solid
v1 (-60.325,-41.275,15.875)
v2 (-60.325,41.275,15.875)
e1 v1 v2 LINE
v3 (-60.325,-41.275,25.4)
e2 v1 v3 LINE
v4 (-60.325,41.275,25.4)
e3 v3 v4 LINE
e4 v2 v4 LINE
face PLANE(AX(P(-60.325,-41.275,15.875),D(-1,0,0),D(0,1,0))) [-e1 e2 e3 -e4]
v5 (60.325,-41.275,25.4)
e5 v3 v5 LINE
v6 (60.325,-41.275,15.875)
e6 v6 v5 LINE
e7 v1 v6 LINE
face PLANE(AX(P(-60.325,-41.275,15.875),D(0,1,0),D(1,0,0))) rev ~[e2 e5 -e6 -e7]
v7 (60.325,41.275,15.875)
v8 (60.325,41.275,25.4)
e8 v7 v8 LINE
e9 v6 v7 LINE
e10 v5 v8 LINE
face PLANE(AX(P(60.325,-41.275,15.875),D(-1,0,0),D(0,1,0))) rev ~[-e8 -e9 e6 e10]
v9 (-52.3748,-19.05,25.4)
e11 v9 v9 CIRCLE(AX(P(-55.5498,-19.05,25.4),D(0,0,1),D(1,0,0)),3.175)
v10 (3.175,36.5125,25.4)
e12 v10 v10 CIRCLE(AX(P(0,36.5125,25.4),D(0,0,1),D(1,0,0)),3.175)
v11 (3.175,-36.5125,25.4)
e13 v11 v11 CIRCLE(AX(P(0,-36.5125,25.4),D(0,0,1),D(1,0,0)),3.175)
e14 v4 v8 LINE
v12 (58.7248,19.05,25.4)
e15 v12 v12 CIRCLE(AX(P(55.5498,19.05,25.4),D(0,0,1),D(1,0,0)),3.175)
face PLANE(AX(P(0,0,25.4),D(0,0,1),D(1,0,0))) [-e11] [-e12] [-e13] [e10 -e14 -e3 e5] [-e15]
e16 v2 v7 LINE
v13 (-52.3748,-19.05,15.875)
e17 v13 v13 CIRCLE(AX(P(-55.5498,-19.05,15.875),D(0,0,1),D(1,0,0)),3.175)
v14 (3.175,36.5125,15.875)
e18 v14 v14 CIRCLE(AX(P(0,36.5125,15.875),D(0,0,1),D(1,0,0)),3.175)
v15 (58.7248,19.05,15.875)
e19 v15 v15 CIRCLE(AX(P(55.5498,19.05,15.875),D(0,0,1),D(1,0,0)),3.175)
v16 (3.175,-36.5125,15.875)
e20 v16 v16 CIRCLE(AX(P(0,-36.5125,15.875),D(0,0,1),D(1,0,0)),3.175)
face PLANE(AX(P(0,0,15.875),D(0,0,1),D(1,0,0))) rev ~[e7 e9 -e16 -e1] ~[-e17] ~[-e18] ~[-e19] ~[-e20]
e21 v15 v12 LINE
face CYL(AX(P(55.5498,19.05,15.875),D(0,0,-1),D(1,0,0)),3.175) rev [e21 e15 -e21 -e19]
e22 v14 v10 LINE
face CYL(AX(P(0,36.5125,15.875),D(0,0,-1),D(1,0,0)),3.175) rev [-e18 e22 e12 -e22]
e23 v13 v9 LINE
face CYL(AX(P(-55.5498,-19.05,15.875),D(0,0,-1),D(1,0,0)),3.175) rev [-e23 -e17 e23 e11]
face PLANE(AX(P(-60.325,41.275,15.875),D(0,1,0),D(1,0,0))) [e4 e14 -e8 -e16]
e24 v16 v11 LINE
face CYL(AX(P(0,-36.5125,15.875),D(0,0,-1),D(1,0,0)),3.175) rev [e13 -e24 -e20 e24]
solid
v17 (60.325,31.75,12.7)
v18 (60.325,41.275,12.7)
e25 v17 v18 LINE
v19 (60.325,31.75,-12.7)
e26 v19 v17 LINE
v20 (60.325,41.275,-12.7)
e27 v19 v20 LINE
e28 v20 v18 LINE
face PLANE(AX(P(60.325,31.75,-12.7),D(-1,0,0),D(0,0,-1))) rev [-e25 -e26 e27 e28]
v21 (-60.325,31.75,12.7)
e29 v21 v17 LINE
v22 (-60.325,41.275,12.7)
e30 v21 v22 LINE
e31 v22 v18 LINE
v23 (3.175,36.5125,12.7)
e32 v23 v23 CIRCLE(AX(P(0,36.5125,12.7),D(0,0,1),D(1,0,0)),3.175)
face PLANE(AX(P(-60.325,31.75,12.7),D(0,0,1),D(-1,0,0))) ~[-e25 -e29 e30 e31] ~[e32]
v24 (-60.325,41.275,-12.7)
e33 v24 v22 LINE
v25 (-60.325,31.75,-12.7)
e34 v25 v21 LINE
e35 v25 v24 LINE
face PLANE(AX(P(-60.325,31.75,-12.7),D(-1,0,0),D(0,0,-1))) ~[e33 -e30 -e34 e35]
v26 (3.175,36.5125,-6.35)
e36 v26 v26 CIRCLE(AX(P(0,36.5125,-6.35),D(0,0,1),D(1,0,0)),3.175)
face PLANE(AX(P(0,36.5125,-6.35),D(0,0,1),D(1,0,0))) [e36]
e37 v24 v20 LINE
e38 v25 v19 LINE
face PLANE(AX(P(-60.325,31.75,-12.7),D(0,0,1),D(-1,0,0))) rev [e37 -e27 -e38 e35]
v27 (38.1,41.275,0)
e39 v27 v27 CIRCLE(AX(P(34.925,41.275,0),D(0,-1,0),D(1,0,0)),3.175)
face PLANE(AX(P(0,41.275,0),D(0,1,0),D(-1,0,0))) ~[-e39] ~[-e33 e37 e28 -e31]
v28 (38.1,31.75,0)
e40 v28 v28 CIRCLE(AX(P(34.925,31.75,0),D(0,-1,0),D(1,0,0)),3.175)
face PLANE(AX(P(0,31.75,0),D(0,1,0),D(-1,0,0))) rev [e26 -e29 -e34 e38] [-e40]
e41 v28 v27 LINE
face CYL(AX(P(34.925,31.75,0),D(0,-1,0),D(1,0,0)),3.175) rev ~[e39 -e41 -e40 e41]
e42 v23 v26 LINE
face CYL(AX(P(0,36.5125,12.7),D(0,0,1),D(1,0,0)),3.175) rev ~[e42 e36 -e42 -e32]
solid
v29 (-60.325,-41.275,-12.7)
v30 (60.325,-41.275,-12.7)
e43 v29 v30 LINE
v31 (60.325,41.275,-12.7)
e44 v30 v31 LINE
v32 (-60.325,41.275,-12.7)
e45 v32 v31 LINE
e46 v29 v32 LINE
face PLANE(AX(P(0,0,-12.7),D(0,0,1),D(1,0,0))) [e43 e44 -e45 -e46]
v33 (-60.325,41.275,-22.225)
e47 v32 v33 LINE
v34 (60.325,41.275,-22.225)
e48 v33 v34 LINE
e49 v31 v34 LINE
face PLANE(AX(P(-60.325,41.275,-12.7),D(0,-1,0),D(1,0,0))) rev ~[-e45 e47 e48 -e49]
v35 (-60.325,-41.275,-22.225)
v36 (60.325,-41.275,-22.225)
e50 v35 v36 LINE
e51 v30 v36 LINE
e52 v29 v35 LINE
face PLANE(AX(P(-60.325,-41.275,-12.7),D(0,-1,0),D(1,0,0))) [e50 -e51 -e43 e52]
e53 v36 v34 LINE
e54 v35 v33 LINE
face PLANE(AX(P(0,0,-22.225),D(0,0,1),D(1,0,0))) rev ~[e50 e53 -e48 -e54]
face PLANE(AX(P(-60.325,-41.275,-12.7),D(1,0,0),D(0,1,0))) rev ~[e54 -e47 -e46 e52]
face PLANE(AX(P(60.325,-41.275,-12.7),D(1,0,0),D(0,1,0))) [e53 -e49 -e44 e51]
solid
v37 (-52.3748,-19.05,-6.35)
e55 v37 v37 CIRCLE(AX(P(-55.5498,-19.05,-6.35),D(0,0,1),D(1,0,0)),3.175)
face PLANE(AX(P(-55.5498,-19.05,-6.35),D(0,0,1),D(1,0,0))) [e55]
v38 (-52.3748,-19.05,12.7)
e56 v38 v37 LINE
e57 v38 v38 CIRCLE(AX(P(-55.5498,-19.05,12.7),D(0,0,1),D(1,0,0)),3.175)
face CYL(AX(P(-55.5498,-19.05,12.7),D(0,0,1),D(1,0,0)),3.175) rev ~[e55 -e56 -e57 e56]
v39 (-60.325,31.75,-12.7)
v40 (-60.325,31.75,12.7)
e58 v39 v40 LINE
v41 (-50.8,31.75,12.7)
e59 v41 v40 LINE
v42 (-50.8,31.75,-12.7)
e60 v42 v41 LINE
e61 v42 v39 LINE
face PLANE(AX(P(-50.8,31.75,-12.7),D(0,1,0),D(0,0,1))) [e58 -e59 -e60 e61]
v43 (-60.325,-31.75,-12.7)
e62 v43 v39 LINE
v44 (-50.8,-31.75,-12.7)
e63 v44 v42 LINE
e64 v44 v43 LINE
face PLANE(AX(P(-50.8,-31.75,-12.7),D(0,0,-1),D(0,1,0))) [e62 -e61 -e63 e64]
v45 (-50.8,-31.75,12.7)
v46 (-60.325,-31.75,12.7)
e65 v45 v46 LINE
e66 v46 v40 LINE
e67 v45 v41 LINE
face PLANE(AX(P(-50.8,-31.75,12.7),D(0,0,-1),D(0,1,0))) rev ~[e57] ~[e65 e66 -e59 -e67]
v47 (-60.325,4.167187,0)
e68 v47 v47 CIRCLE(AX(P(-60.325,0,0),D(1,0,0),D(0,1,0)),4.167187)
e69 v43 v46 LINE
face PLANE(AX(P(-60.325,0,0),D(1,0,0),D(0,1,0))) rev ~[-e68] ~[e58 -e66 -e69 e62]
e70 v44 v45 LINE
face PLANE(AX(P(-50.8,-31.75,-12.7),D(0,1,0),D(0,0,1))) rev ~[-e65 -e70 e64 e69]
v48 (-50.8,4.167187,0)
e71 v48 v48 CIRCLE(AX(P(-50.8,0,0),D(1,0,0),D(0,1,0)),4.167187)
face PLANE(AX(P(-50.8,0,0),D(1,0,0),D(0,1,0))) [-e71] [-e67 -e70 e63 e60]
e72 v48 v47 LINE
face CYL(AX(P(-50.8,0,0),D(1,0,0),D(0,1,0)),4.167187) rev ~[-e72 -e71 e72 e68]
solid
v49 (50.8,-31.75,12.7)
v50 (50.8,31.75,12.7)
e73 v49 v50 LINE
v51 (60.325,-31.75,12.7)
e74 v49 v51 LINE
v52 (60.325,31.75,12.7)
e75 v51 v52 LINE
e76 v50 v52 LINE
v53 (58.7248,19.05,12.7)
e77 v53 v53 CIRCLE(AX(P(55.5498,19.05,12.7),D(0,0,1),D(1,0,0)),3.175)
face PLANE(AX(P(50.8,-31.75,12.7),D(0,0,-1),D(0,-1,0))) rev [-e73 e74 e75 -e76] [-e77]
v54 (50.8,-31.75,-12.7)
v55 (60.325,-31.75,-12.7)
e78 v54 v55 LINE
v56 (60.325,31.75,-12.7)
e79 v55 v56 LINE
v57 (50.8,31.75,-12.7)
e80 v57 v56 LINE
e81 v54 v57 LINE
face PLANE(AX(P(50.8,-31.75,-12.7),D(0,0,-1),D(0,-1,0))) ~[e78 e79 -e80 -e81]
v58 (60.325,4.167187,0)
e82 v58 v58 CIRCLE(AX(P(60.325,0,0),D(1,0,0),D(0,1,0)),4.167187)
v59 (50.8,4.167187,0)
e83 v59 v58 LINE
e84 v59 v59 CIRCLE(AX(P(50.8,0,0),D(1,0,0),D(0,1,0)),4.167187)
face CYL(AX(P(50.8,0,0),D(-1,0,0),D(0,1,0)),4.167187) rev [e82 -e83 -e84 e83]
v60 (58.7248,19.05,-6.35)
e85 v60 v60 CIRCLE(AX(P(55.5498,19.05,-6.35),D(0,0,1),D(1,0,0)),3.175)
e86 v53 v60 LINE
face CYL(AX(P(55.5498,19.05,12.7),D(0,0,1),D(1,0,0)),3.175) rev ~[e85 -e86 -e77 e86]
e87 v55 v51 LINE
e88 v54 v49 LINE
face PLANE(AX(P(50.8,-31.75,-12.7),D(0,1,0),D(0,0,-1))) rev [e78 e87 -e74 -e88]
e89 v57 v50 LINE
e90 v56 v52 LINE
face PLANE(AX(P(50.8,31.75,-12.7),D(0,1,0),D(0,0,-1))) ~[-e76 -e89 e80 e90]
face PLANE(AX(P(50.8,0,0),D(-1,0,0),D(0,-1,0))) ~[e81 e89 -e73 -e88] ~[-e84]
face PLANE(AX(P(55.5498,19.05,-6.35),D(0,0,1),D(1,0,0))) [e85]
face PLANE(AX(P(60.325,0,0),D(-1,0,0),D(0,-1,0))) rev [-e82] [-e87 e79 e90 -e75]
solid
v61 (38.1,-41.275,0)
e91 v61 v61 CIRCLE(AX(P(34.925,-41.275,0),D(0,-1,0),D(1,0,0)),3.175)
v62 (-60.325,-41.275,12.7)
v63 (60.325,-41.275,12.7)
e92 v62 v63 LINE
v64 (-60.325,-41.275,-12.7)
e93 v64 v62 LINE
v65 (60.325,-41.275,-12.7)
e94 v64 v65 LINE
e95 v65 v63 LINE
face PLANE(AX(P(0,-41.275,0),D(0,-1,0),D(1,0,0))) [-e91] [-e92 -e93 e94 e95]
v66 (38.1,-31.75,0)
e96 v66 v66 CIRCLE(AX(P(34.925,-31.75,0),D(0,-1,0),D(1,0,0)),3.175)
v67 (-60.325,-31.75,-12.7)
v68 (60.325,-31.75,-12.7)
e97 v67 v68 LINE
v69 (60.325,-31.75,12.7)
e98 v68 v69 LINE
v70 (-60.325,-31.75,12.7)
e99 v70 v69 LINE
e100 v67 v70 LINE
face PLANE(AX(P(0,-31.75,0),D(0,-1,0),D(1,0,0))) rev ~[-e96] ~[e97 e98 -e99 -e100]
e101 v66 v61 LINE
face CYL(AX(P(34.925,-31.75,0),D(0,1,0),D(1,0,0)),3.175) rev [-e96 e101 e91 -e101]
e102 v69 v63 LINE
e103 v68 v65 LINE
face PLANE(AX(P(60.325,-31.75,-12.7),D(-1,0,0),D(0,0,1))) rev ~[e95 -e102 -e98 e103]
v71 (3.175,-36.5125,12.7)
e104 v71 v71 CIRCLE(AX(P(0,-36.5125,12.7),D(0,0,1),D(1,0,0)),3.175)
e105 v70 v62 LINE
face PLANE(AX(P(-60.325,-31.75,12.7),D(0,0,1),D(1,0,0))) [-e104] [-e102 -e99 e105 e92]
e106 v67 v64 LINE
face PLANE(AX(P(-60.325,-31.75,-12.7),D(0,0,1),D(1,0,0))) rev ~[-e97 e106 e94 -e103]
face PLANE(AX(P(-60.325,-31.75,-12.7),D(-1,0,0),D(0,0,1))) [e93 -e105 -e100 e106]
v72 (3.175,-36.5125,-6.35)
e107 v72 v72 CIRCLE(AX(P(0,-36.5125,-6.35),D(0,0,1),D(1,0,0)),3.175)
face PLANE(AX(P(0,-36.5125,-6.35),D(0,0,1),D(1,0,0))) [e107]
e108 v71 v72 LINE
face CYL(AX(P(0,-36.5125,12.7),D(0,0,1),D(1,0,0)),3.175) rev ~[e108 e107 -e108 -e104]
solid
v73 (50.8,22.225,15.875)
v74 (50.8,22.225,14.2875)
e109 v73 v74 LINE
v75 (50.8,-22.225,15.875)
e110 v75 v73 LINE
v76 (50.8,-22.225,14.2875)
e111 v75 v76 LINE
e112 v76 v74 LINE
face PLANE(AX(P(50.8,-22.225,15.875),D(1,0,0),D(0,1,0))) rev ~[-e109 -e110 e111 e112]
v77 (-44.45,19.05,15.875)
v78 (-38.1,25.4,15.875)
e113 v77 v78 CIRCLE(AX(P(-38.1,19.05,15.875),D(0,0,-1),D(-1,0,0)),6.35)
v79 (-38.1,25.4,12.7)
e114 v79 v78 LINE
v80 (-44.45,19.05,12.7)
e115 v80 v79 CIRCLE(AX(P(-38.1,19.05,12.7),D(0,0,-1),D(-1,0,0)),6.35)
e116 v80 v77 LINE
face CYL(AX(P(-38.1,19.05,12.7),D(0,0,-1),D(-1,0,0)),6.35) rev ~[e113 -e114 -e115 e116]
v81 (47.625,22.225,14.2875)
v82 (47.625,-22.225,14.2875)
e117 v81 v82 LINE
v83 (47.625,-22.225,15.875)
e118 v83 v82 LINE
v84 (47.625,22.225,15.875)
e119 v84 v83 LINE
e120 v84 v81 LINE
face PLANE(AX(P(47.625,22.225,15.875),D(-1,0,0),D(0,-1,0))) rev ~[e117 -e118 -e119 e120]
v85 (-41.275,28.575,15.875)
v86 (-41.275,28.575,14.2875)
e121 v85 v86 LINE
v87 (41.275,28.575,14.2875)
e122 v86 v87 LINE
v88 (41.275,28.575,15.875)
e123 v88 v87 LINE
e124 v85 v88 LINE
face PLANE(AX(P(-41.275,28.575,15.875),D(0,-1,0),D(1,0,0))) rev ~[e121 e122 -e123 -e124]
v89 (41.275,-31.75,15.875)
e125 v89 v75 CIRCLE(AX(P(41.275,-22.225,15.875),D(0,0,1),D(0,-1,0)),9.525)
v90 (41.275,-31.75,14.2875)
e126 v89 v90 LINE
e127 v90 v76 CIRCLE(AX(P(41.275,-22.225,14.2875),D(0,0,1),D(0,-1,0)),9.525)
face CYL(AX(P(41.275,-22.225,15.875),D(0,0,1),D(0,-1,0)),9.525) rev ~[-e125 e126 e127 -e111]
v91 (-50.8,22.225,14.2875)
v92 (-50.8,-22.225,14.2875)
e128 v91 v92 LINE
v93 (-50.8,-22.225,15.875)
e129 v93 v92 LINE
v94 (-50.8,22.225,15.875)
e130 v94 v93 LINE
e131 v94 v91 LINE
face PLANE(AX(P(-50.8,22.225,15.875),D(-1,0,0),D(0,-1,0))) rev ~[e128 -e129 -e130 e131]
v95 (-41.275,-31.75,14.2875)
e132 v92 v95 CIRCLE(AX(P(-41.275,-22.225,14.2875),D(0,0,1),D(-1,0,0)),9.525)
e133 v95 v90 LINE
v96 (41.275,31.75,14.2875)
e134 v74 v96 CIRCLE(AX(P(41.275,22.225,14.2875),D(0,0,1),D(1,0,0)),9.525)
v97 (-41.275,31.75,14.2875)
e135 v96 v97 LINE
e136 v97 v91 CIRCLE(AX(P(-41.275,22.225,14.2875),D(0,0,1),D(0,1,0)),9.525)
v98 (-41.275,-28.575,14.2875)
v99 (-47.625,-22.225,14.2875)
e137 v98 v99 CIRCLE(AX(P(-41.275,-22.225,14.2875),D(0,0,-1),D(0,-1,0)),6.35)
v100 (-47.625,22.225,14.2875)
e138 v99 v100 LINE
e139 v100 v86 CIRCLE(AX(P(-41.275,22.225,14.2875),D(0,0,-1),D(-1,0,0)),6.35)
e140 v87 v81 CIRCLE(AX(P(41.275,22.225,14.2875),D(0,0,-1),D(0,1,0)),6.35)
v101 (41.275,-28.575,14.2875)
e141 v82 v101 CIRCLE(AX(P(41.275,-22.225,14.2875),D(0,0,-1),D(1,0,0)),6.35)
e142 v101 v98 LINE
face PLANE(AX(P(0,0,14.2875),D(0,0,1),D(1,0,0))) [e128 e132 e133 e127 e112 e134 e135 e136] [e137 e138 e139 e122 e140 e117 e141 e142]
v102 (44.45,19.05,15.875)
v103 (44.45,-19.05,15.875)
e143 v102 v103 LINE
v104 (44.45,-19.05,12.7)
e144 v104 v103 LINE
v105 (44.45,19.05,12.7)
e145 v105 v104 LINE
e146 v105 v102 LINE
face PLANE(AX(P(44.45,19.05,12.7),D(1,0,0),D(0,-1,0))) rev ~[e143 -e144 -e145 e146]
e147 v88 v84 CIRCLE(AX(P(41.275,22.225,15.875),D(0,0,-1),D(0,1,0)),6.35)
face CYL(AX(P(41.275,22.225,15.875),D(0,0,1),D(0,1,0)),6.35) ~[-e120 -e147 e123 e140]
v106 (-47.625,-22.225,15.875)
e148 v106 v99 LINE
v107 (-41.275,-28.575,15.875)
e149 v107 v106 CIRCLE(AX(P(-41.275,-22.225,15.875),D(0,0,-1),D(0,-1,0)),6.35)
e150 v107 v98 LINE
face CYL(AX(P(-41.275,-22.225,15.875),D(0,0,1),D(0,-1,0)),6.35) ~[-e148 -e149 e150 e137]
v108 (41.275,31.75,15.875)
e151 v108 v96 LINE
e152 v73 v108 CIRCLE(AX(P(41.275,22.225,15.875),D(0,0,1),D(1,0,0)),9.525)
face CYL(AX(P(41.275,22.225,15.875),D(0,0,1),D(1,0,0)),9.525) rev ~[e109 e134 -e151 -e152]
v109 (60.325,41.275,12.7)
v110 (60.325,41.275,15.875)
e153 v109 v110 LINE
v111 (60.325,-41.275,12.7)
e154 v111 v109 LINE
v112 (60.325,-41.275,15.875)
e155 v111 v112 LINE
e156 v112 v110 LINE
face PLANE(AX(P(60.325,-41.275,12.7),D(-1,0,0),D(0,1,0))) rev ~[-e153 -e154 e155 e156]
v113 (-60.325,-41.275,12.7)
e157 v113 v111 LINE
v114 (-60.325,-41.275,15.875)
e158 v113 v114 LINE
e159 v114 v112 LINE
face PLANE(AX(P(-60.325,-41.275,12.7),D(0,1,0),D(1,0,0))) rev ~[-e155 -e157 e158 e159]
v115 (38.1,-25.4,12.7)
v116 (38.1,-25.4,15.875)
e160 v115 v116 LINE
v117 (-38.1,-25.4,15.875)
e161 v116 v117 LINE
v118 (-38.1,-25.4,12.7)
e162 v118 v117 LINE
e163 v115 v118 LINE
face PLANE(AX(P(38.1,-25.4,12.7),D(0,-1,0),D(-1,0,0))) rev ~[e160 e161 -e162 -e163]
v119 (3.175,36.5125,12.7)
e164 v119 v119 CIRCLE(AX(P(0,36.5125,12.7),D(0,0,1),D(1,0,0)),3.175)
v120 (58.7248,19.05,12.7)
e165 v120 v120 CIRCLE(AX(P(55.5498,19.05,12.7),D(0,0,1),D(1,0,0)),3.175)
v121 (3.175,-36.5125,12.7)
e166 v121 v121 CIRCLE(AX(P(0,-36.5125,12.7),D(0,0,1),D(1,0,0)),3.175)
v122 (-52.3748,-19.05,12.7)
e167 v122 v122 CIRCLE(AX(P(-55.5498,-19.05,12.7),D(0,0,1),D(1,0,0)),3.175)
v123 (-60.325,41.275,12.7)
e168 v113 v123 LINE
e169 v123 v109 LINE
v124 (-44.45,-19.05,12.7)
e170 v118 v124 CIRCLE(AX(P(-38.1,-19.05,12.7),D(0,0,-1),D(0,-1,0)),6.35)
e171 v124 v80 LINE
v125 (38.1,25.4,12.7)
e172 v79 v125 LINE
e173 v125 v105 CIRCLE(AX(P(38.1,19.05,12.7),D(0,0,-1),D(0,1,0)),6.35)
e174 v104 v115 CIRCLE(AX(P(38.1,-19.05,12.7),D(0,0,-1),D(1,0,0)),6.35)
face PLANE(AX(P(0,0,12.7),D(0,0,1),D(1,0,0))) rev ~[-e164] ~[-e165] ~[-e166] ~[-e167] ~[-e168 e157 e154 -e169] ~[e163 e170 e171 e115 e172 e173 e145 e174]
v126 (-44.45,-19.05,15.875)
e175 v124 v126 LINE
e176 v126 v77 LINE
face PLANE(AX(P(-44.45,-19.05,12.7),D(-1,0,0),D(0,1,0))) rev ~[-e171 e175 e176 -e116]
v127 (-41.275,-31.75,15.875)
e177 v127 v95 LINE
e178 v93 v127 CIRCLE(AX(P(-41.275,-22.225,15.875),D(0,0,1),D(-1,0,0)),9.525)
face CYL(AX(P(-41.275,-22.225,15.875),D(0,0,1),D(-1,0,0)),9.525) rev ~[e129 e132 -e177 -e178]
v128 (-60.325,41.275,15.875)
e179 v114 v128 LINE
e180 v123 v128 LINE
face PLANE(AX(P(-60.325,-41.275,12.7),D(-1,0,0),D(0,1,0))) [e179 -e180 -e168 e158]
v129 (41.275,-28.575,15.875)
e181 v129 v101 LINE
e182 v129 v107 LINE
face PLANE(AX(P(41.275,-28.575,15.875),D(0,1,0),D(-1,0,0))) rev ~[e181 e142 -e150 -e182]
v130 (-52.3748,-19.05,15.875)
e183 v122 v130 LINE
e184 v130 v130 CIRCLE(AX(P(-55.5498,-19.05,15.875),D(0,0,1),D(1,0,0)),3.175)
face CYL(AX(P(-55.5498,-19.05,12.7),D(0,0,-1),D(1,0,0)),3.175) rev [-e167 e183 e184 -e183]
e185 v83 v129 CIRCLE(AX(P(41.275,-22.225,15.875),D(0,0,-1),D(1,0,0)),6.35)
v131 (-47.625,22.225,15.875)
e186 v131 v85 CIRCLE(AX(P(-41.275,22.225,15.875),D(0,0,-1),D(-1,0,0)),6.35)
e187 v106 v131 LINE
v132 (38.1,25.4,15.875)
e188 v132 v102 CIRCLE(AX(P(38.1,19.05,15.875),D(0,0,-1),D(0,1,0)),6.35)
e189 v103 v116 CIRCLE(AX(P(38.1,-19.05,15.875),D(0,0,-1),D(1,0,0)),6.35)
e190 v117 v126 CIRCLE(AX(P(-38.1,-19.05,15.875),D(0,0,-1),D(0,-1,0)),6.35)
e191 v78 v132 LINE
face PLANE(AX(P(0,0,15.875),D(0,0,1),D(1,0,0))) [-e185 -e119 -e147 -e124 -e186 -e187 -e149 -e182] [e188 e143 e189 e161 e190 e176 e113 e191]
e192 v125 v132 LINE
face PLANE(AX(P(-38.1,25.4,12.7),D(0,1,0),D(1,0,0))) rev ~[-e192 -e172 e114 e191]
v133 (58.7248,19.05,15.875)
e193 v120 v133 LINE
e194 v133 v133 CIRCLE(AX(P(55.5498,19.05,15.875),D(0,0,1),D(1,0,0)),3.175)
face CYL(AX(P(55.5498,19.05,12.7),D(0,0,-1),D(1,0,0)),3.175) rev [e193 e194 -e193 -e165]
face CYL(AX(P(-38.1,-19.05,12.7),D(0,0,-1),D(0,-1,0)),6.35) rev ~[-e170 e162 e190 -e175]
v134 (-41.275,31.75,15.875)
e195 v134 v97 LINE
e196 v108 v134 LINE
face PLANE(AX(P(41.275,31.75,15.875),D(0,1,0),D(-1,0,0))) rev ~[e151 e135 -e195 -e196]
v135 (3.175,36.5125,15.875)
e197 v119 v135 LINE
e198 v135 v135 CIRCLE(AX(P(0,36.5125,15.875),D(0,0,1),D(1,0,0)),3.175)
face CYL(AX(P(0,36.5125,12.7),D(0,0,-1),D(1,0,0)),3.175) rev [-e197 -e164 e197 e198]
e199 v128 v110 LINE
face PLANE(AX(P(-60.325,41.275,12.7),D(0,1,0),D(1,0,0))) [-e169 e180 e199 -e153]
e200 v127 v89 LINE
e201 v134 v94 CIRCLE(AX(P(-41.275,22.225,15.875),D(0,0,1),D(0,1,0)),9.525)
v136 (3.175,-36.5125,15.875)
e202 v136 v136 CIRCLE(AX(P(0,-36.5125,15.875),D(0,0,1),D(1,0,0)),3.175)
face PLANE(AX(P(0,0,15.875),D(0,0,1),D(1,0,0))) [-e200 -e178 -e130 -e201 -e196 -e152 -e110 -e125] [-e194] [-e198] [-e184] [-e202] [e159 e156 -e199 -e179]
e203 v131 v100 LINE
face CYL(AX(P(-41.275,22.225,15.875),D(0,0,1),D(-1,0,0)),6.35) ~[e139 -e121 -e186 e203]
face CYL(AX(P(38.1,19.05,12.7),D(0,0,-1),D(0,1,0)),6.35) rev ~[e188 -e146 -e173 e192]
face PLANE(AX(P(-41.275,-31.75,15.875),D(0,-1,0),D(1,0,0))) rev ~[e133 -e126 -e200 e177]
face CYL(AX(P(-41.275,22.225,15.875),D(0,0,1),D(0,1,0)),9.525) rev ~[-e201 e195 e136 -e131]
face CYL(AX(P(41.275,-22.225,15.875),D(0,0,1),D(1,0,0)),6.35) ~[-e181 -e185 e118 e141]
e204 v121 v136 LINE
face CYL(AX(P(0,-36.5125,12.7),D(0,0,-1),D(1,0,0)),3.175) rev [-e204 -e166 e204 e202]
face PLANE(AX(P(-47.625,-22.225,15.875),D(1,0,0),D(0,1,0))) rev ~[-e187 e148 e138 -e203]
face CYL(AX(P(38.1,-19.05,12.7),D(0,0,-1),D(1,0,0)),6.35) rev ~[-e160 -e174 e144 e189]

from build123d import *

# Parameters (mm, degrees)
F10_W     = 120.65
F10_H     = 82.55
F11_DEPTH = 9.525
F6_W      = 63.5
F6_H      = 25.4
F6_R      = 4.1671875
F12_DEPTH = 9.525
F8_W      = 120.65
F8_H      = 25.4
F8_R      = 3.175
F14_DEPTH = 9.525
F16_W     = 120.65
F16_H     = 82.55
F16_R     = 3.175
F17_DEPTH = 3.175
F19_DEPTH = 1.5875
F20_W     = 120.65
F20_H     = 82.55
F20_R     = 3.175
F21_DEPTH = 9.525
F22_R     = 3.175
F23_DEPTH = 19.05
F24_R     = 3.175
F25_DEPTH = 19.05
F26_R     = 3.175
F27_DEPTH = 19.05
F28_R     = 3.175
F29_DEPTH = 19.05


with BuildPart() as f11:
    # F10 (on offset) → F11 (new body)
    with BuildSketch(Plane.XY.offset(-12.7)):
        Rectangle(F10_W, F10_H)
    extrude(amount=-F11_DEPTH)


with BuildPart() as f12:
    # F6 (on offset) → F12 (new body)
    with BuildSketch(Plane.YZ.offset(-50.8)):
        Rectangle(F6_W, F6_H)
        Circle(F6_R, mode=Mode.SUBTRACT)
    extrude(amount=-F12_DEPTH)


with BuildPart() as f13_1:
    # F13: instance of F12
    add(f12.part.mirror(Plane.YZ))

    # F26 (on offset) → F27 (cut)
    with BuildSketch(Plane.XY.offset(12.7)):
        with Locations((55.5498, 19.05)):
            Circle(F26_R)
    extrude(amount=-F27_DEPTH, mode=Mode.SUBTRACT)


with BuildPart() as f14:
    # F8 (on offset) → F14 (new body)
    with BuildSketch(Plane.XZ.offset(31.75)):
        Rectangle(F8_W, F8_H)
        with Locations((34.925, 0)):
            Circle(F8_R, mode=Mode.SUBTRACT)
    extrude(amount=F14_DEPTH)


with BuildPart() as f15_1:
    # F15: instance of F14
    add(f14.part.mirror(Plane.XZ))

    # F28 (on offset) → F29 (cut)
    with BuildSketch(Plane.XY.offset(12.7)):
        with Locations((0, 36.5125)):
            Circle(F28_R)
    extrude(amount=-F29_DEPTH, mode=Mode.SUBTRACT)


with BuildPart() as f17:
    # F16 (on offset) → F17 (new body)
    with BuildSketch(Plane.XY.offset(12.7)):
        Rectangle(F16_W, F16_H)
        with Locations((-55.5498, -19.05)):
            Circle(F16_R, mode=Mode.SUBTRACT)
        with Locations((0, -36.5125)):
            Circle(F16_R, mode=Mode.SUBTRACT)
        with BuildLine():
            Line((-44.45, -19.05), (-44.45, 19.05))
            ThreePointArc((-44.45, 19.05), (-42.5901280605, 23.5401280605), (-38.1, 25.4))
            Line((-38.1, 25.4), (38.1, 25.4))
            ThreePointArc((38.1, 25.4), (42.5901280605, 23.5401280605), (44.45, 19.05))
            Line((44.45, 19.05), (44.45, -19.05))
            ThreePointArc((44.45, -19.05), (42.5901280605, -23.5401280605), (38.1, -25.4))
            Line((38.1, -25.4), (-38.1, -25.4))
            ThreePointArc((-38.1, -25.4), (-42.5901280605, -23.5401280605), (-44.45, -19.05))
        make_face(mode=Mode.SUBTRACT)
        with Locations((55.5498, 19.05)):
            Circle(F16_R, mode=Mode.SUBTRACT)
        with Locations((0, 36.5125)):
            Circle(F16_R, mode=Mode.SUBTRACT)
    extrude(amount=F17_DEPTH)

    # F18 (on offset) → F19 (cut)
    with BuildSketch(Plane.XY.offset(15.875)):
        with BuildLine():
            Line((41.275, 31.75), (-41.275, 31.75))
            ThreePointArc((-41.275, 31.75), (-48.0101920908, 28.9601920908), (-50.8, 22.225))
            Line((-50.8, 22.225), (-50.8, -22.225))
            ThreePointArc((-50.8, -22.225), (-48.0101920908, -28.9601920908), (-41.275, -31.75))
            Line((-41.275, -31.75), (41.275, -31.75))
            ThreePointArc((41.275, -31.75), (48.0101920908, -28.9601920908), (50.8, -22.225))
            Line((50.8, -22.225), (50.8, 22.225))
            ThreePointArc((50.8, 22.225), (48.0101920908, 28.9601920908), (41.275, 31.75))
        make_face()
        with BuildLine():
            ThreePointArc((-47.625, 22.225), (-45.7651280605, 26.7151280605), (-41.275, 28.575))
            Line((-41.275, 28.575), (41.275, 28.575))
            ThreePointArc((41.275, 28.575), (45.7651280605, 26.7151280605), (47.625, 22.225))
            Line((47.625, 22.225), (47.625, -22.225))
            ThreePointArc((47.625, -22.225), (45.7651280605, -26.7151280605), (41.275, -28.575))
            Line((41.275, -28.575), (-41.275, -28.575))
            ThreePointArc((-41.275, -28.575), (-45.7651280605, -26.7151280605), (-47.625, -22.225))
            Line((-47.625, -22.225), (-47.625, 22.225))
        make_face(mode=Mode.SUBTRACT)
    extrude(amount=-F19_DEPTH, mode=Mode.SUBTRACT)


with BuildPart() as f21:
    # F20 (on offset) → F21 (new body)
    with BuildSketch(Plane.XY.offset(15.875)):
        Rectangle(F20_W, F20_H)
        with Locations((-55.5498, -19.05)):
            Circle(F20_R, mode=Mode.SUBTRACT)
        with Locations((0, -36.5125)):
            Circle(F20_R, mode=Mode.SUBTRACT)
        with Locations((55.5498, 19.05)):
            Circle(F20_R, mode=Mode.SUBTRACT)
        with Locations((0, 36.5125)):
            Circle(F20_R, mode=Mode.SUBTRACT)
    extrude(amount=F21_DEPTH)


with BuildPart() as f12_1:
    add(f12.part)

    # F22 (on offset) → F23 (cut)
    with BuildSketch(Plane.XY.offset(12.7)):
        with Locations((-55.5498, -19.05)):
            Circle(F22_R)
    extrude(amount=-F23_DEPTH, mode=Mode.SUBTRACT)


with BuildPart() as f14_1:
    add(f14.part)

    # F24 (on offset) → F25 (cut)
    with BuildSketch(Plane.XY.offset(12.7)):
        with Locations((0, -36.5125)):
            Circle(F24_R)
    extrude(amount=-F25_DEPTH, mode=Mode.SUBTRACT)


solid = Compound([f11.part, f13_1.part, f15_1.part, f17.part, f21.part, f12_1.part, f14_1.part])
